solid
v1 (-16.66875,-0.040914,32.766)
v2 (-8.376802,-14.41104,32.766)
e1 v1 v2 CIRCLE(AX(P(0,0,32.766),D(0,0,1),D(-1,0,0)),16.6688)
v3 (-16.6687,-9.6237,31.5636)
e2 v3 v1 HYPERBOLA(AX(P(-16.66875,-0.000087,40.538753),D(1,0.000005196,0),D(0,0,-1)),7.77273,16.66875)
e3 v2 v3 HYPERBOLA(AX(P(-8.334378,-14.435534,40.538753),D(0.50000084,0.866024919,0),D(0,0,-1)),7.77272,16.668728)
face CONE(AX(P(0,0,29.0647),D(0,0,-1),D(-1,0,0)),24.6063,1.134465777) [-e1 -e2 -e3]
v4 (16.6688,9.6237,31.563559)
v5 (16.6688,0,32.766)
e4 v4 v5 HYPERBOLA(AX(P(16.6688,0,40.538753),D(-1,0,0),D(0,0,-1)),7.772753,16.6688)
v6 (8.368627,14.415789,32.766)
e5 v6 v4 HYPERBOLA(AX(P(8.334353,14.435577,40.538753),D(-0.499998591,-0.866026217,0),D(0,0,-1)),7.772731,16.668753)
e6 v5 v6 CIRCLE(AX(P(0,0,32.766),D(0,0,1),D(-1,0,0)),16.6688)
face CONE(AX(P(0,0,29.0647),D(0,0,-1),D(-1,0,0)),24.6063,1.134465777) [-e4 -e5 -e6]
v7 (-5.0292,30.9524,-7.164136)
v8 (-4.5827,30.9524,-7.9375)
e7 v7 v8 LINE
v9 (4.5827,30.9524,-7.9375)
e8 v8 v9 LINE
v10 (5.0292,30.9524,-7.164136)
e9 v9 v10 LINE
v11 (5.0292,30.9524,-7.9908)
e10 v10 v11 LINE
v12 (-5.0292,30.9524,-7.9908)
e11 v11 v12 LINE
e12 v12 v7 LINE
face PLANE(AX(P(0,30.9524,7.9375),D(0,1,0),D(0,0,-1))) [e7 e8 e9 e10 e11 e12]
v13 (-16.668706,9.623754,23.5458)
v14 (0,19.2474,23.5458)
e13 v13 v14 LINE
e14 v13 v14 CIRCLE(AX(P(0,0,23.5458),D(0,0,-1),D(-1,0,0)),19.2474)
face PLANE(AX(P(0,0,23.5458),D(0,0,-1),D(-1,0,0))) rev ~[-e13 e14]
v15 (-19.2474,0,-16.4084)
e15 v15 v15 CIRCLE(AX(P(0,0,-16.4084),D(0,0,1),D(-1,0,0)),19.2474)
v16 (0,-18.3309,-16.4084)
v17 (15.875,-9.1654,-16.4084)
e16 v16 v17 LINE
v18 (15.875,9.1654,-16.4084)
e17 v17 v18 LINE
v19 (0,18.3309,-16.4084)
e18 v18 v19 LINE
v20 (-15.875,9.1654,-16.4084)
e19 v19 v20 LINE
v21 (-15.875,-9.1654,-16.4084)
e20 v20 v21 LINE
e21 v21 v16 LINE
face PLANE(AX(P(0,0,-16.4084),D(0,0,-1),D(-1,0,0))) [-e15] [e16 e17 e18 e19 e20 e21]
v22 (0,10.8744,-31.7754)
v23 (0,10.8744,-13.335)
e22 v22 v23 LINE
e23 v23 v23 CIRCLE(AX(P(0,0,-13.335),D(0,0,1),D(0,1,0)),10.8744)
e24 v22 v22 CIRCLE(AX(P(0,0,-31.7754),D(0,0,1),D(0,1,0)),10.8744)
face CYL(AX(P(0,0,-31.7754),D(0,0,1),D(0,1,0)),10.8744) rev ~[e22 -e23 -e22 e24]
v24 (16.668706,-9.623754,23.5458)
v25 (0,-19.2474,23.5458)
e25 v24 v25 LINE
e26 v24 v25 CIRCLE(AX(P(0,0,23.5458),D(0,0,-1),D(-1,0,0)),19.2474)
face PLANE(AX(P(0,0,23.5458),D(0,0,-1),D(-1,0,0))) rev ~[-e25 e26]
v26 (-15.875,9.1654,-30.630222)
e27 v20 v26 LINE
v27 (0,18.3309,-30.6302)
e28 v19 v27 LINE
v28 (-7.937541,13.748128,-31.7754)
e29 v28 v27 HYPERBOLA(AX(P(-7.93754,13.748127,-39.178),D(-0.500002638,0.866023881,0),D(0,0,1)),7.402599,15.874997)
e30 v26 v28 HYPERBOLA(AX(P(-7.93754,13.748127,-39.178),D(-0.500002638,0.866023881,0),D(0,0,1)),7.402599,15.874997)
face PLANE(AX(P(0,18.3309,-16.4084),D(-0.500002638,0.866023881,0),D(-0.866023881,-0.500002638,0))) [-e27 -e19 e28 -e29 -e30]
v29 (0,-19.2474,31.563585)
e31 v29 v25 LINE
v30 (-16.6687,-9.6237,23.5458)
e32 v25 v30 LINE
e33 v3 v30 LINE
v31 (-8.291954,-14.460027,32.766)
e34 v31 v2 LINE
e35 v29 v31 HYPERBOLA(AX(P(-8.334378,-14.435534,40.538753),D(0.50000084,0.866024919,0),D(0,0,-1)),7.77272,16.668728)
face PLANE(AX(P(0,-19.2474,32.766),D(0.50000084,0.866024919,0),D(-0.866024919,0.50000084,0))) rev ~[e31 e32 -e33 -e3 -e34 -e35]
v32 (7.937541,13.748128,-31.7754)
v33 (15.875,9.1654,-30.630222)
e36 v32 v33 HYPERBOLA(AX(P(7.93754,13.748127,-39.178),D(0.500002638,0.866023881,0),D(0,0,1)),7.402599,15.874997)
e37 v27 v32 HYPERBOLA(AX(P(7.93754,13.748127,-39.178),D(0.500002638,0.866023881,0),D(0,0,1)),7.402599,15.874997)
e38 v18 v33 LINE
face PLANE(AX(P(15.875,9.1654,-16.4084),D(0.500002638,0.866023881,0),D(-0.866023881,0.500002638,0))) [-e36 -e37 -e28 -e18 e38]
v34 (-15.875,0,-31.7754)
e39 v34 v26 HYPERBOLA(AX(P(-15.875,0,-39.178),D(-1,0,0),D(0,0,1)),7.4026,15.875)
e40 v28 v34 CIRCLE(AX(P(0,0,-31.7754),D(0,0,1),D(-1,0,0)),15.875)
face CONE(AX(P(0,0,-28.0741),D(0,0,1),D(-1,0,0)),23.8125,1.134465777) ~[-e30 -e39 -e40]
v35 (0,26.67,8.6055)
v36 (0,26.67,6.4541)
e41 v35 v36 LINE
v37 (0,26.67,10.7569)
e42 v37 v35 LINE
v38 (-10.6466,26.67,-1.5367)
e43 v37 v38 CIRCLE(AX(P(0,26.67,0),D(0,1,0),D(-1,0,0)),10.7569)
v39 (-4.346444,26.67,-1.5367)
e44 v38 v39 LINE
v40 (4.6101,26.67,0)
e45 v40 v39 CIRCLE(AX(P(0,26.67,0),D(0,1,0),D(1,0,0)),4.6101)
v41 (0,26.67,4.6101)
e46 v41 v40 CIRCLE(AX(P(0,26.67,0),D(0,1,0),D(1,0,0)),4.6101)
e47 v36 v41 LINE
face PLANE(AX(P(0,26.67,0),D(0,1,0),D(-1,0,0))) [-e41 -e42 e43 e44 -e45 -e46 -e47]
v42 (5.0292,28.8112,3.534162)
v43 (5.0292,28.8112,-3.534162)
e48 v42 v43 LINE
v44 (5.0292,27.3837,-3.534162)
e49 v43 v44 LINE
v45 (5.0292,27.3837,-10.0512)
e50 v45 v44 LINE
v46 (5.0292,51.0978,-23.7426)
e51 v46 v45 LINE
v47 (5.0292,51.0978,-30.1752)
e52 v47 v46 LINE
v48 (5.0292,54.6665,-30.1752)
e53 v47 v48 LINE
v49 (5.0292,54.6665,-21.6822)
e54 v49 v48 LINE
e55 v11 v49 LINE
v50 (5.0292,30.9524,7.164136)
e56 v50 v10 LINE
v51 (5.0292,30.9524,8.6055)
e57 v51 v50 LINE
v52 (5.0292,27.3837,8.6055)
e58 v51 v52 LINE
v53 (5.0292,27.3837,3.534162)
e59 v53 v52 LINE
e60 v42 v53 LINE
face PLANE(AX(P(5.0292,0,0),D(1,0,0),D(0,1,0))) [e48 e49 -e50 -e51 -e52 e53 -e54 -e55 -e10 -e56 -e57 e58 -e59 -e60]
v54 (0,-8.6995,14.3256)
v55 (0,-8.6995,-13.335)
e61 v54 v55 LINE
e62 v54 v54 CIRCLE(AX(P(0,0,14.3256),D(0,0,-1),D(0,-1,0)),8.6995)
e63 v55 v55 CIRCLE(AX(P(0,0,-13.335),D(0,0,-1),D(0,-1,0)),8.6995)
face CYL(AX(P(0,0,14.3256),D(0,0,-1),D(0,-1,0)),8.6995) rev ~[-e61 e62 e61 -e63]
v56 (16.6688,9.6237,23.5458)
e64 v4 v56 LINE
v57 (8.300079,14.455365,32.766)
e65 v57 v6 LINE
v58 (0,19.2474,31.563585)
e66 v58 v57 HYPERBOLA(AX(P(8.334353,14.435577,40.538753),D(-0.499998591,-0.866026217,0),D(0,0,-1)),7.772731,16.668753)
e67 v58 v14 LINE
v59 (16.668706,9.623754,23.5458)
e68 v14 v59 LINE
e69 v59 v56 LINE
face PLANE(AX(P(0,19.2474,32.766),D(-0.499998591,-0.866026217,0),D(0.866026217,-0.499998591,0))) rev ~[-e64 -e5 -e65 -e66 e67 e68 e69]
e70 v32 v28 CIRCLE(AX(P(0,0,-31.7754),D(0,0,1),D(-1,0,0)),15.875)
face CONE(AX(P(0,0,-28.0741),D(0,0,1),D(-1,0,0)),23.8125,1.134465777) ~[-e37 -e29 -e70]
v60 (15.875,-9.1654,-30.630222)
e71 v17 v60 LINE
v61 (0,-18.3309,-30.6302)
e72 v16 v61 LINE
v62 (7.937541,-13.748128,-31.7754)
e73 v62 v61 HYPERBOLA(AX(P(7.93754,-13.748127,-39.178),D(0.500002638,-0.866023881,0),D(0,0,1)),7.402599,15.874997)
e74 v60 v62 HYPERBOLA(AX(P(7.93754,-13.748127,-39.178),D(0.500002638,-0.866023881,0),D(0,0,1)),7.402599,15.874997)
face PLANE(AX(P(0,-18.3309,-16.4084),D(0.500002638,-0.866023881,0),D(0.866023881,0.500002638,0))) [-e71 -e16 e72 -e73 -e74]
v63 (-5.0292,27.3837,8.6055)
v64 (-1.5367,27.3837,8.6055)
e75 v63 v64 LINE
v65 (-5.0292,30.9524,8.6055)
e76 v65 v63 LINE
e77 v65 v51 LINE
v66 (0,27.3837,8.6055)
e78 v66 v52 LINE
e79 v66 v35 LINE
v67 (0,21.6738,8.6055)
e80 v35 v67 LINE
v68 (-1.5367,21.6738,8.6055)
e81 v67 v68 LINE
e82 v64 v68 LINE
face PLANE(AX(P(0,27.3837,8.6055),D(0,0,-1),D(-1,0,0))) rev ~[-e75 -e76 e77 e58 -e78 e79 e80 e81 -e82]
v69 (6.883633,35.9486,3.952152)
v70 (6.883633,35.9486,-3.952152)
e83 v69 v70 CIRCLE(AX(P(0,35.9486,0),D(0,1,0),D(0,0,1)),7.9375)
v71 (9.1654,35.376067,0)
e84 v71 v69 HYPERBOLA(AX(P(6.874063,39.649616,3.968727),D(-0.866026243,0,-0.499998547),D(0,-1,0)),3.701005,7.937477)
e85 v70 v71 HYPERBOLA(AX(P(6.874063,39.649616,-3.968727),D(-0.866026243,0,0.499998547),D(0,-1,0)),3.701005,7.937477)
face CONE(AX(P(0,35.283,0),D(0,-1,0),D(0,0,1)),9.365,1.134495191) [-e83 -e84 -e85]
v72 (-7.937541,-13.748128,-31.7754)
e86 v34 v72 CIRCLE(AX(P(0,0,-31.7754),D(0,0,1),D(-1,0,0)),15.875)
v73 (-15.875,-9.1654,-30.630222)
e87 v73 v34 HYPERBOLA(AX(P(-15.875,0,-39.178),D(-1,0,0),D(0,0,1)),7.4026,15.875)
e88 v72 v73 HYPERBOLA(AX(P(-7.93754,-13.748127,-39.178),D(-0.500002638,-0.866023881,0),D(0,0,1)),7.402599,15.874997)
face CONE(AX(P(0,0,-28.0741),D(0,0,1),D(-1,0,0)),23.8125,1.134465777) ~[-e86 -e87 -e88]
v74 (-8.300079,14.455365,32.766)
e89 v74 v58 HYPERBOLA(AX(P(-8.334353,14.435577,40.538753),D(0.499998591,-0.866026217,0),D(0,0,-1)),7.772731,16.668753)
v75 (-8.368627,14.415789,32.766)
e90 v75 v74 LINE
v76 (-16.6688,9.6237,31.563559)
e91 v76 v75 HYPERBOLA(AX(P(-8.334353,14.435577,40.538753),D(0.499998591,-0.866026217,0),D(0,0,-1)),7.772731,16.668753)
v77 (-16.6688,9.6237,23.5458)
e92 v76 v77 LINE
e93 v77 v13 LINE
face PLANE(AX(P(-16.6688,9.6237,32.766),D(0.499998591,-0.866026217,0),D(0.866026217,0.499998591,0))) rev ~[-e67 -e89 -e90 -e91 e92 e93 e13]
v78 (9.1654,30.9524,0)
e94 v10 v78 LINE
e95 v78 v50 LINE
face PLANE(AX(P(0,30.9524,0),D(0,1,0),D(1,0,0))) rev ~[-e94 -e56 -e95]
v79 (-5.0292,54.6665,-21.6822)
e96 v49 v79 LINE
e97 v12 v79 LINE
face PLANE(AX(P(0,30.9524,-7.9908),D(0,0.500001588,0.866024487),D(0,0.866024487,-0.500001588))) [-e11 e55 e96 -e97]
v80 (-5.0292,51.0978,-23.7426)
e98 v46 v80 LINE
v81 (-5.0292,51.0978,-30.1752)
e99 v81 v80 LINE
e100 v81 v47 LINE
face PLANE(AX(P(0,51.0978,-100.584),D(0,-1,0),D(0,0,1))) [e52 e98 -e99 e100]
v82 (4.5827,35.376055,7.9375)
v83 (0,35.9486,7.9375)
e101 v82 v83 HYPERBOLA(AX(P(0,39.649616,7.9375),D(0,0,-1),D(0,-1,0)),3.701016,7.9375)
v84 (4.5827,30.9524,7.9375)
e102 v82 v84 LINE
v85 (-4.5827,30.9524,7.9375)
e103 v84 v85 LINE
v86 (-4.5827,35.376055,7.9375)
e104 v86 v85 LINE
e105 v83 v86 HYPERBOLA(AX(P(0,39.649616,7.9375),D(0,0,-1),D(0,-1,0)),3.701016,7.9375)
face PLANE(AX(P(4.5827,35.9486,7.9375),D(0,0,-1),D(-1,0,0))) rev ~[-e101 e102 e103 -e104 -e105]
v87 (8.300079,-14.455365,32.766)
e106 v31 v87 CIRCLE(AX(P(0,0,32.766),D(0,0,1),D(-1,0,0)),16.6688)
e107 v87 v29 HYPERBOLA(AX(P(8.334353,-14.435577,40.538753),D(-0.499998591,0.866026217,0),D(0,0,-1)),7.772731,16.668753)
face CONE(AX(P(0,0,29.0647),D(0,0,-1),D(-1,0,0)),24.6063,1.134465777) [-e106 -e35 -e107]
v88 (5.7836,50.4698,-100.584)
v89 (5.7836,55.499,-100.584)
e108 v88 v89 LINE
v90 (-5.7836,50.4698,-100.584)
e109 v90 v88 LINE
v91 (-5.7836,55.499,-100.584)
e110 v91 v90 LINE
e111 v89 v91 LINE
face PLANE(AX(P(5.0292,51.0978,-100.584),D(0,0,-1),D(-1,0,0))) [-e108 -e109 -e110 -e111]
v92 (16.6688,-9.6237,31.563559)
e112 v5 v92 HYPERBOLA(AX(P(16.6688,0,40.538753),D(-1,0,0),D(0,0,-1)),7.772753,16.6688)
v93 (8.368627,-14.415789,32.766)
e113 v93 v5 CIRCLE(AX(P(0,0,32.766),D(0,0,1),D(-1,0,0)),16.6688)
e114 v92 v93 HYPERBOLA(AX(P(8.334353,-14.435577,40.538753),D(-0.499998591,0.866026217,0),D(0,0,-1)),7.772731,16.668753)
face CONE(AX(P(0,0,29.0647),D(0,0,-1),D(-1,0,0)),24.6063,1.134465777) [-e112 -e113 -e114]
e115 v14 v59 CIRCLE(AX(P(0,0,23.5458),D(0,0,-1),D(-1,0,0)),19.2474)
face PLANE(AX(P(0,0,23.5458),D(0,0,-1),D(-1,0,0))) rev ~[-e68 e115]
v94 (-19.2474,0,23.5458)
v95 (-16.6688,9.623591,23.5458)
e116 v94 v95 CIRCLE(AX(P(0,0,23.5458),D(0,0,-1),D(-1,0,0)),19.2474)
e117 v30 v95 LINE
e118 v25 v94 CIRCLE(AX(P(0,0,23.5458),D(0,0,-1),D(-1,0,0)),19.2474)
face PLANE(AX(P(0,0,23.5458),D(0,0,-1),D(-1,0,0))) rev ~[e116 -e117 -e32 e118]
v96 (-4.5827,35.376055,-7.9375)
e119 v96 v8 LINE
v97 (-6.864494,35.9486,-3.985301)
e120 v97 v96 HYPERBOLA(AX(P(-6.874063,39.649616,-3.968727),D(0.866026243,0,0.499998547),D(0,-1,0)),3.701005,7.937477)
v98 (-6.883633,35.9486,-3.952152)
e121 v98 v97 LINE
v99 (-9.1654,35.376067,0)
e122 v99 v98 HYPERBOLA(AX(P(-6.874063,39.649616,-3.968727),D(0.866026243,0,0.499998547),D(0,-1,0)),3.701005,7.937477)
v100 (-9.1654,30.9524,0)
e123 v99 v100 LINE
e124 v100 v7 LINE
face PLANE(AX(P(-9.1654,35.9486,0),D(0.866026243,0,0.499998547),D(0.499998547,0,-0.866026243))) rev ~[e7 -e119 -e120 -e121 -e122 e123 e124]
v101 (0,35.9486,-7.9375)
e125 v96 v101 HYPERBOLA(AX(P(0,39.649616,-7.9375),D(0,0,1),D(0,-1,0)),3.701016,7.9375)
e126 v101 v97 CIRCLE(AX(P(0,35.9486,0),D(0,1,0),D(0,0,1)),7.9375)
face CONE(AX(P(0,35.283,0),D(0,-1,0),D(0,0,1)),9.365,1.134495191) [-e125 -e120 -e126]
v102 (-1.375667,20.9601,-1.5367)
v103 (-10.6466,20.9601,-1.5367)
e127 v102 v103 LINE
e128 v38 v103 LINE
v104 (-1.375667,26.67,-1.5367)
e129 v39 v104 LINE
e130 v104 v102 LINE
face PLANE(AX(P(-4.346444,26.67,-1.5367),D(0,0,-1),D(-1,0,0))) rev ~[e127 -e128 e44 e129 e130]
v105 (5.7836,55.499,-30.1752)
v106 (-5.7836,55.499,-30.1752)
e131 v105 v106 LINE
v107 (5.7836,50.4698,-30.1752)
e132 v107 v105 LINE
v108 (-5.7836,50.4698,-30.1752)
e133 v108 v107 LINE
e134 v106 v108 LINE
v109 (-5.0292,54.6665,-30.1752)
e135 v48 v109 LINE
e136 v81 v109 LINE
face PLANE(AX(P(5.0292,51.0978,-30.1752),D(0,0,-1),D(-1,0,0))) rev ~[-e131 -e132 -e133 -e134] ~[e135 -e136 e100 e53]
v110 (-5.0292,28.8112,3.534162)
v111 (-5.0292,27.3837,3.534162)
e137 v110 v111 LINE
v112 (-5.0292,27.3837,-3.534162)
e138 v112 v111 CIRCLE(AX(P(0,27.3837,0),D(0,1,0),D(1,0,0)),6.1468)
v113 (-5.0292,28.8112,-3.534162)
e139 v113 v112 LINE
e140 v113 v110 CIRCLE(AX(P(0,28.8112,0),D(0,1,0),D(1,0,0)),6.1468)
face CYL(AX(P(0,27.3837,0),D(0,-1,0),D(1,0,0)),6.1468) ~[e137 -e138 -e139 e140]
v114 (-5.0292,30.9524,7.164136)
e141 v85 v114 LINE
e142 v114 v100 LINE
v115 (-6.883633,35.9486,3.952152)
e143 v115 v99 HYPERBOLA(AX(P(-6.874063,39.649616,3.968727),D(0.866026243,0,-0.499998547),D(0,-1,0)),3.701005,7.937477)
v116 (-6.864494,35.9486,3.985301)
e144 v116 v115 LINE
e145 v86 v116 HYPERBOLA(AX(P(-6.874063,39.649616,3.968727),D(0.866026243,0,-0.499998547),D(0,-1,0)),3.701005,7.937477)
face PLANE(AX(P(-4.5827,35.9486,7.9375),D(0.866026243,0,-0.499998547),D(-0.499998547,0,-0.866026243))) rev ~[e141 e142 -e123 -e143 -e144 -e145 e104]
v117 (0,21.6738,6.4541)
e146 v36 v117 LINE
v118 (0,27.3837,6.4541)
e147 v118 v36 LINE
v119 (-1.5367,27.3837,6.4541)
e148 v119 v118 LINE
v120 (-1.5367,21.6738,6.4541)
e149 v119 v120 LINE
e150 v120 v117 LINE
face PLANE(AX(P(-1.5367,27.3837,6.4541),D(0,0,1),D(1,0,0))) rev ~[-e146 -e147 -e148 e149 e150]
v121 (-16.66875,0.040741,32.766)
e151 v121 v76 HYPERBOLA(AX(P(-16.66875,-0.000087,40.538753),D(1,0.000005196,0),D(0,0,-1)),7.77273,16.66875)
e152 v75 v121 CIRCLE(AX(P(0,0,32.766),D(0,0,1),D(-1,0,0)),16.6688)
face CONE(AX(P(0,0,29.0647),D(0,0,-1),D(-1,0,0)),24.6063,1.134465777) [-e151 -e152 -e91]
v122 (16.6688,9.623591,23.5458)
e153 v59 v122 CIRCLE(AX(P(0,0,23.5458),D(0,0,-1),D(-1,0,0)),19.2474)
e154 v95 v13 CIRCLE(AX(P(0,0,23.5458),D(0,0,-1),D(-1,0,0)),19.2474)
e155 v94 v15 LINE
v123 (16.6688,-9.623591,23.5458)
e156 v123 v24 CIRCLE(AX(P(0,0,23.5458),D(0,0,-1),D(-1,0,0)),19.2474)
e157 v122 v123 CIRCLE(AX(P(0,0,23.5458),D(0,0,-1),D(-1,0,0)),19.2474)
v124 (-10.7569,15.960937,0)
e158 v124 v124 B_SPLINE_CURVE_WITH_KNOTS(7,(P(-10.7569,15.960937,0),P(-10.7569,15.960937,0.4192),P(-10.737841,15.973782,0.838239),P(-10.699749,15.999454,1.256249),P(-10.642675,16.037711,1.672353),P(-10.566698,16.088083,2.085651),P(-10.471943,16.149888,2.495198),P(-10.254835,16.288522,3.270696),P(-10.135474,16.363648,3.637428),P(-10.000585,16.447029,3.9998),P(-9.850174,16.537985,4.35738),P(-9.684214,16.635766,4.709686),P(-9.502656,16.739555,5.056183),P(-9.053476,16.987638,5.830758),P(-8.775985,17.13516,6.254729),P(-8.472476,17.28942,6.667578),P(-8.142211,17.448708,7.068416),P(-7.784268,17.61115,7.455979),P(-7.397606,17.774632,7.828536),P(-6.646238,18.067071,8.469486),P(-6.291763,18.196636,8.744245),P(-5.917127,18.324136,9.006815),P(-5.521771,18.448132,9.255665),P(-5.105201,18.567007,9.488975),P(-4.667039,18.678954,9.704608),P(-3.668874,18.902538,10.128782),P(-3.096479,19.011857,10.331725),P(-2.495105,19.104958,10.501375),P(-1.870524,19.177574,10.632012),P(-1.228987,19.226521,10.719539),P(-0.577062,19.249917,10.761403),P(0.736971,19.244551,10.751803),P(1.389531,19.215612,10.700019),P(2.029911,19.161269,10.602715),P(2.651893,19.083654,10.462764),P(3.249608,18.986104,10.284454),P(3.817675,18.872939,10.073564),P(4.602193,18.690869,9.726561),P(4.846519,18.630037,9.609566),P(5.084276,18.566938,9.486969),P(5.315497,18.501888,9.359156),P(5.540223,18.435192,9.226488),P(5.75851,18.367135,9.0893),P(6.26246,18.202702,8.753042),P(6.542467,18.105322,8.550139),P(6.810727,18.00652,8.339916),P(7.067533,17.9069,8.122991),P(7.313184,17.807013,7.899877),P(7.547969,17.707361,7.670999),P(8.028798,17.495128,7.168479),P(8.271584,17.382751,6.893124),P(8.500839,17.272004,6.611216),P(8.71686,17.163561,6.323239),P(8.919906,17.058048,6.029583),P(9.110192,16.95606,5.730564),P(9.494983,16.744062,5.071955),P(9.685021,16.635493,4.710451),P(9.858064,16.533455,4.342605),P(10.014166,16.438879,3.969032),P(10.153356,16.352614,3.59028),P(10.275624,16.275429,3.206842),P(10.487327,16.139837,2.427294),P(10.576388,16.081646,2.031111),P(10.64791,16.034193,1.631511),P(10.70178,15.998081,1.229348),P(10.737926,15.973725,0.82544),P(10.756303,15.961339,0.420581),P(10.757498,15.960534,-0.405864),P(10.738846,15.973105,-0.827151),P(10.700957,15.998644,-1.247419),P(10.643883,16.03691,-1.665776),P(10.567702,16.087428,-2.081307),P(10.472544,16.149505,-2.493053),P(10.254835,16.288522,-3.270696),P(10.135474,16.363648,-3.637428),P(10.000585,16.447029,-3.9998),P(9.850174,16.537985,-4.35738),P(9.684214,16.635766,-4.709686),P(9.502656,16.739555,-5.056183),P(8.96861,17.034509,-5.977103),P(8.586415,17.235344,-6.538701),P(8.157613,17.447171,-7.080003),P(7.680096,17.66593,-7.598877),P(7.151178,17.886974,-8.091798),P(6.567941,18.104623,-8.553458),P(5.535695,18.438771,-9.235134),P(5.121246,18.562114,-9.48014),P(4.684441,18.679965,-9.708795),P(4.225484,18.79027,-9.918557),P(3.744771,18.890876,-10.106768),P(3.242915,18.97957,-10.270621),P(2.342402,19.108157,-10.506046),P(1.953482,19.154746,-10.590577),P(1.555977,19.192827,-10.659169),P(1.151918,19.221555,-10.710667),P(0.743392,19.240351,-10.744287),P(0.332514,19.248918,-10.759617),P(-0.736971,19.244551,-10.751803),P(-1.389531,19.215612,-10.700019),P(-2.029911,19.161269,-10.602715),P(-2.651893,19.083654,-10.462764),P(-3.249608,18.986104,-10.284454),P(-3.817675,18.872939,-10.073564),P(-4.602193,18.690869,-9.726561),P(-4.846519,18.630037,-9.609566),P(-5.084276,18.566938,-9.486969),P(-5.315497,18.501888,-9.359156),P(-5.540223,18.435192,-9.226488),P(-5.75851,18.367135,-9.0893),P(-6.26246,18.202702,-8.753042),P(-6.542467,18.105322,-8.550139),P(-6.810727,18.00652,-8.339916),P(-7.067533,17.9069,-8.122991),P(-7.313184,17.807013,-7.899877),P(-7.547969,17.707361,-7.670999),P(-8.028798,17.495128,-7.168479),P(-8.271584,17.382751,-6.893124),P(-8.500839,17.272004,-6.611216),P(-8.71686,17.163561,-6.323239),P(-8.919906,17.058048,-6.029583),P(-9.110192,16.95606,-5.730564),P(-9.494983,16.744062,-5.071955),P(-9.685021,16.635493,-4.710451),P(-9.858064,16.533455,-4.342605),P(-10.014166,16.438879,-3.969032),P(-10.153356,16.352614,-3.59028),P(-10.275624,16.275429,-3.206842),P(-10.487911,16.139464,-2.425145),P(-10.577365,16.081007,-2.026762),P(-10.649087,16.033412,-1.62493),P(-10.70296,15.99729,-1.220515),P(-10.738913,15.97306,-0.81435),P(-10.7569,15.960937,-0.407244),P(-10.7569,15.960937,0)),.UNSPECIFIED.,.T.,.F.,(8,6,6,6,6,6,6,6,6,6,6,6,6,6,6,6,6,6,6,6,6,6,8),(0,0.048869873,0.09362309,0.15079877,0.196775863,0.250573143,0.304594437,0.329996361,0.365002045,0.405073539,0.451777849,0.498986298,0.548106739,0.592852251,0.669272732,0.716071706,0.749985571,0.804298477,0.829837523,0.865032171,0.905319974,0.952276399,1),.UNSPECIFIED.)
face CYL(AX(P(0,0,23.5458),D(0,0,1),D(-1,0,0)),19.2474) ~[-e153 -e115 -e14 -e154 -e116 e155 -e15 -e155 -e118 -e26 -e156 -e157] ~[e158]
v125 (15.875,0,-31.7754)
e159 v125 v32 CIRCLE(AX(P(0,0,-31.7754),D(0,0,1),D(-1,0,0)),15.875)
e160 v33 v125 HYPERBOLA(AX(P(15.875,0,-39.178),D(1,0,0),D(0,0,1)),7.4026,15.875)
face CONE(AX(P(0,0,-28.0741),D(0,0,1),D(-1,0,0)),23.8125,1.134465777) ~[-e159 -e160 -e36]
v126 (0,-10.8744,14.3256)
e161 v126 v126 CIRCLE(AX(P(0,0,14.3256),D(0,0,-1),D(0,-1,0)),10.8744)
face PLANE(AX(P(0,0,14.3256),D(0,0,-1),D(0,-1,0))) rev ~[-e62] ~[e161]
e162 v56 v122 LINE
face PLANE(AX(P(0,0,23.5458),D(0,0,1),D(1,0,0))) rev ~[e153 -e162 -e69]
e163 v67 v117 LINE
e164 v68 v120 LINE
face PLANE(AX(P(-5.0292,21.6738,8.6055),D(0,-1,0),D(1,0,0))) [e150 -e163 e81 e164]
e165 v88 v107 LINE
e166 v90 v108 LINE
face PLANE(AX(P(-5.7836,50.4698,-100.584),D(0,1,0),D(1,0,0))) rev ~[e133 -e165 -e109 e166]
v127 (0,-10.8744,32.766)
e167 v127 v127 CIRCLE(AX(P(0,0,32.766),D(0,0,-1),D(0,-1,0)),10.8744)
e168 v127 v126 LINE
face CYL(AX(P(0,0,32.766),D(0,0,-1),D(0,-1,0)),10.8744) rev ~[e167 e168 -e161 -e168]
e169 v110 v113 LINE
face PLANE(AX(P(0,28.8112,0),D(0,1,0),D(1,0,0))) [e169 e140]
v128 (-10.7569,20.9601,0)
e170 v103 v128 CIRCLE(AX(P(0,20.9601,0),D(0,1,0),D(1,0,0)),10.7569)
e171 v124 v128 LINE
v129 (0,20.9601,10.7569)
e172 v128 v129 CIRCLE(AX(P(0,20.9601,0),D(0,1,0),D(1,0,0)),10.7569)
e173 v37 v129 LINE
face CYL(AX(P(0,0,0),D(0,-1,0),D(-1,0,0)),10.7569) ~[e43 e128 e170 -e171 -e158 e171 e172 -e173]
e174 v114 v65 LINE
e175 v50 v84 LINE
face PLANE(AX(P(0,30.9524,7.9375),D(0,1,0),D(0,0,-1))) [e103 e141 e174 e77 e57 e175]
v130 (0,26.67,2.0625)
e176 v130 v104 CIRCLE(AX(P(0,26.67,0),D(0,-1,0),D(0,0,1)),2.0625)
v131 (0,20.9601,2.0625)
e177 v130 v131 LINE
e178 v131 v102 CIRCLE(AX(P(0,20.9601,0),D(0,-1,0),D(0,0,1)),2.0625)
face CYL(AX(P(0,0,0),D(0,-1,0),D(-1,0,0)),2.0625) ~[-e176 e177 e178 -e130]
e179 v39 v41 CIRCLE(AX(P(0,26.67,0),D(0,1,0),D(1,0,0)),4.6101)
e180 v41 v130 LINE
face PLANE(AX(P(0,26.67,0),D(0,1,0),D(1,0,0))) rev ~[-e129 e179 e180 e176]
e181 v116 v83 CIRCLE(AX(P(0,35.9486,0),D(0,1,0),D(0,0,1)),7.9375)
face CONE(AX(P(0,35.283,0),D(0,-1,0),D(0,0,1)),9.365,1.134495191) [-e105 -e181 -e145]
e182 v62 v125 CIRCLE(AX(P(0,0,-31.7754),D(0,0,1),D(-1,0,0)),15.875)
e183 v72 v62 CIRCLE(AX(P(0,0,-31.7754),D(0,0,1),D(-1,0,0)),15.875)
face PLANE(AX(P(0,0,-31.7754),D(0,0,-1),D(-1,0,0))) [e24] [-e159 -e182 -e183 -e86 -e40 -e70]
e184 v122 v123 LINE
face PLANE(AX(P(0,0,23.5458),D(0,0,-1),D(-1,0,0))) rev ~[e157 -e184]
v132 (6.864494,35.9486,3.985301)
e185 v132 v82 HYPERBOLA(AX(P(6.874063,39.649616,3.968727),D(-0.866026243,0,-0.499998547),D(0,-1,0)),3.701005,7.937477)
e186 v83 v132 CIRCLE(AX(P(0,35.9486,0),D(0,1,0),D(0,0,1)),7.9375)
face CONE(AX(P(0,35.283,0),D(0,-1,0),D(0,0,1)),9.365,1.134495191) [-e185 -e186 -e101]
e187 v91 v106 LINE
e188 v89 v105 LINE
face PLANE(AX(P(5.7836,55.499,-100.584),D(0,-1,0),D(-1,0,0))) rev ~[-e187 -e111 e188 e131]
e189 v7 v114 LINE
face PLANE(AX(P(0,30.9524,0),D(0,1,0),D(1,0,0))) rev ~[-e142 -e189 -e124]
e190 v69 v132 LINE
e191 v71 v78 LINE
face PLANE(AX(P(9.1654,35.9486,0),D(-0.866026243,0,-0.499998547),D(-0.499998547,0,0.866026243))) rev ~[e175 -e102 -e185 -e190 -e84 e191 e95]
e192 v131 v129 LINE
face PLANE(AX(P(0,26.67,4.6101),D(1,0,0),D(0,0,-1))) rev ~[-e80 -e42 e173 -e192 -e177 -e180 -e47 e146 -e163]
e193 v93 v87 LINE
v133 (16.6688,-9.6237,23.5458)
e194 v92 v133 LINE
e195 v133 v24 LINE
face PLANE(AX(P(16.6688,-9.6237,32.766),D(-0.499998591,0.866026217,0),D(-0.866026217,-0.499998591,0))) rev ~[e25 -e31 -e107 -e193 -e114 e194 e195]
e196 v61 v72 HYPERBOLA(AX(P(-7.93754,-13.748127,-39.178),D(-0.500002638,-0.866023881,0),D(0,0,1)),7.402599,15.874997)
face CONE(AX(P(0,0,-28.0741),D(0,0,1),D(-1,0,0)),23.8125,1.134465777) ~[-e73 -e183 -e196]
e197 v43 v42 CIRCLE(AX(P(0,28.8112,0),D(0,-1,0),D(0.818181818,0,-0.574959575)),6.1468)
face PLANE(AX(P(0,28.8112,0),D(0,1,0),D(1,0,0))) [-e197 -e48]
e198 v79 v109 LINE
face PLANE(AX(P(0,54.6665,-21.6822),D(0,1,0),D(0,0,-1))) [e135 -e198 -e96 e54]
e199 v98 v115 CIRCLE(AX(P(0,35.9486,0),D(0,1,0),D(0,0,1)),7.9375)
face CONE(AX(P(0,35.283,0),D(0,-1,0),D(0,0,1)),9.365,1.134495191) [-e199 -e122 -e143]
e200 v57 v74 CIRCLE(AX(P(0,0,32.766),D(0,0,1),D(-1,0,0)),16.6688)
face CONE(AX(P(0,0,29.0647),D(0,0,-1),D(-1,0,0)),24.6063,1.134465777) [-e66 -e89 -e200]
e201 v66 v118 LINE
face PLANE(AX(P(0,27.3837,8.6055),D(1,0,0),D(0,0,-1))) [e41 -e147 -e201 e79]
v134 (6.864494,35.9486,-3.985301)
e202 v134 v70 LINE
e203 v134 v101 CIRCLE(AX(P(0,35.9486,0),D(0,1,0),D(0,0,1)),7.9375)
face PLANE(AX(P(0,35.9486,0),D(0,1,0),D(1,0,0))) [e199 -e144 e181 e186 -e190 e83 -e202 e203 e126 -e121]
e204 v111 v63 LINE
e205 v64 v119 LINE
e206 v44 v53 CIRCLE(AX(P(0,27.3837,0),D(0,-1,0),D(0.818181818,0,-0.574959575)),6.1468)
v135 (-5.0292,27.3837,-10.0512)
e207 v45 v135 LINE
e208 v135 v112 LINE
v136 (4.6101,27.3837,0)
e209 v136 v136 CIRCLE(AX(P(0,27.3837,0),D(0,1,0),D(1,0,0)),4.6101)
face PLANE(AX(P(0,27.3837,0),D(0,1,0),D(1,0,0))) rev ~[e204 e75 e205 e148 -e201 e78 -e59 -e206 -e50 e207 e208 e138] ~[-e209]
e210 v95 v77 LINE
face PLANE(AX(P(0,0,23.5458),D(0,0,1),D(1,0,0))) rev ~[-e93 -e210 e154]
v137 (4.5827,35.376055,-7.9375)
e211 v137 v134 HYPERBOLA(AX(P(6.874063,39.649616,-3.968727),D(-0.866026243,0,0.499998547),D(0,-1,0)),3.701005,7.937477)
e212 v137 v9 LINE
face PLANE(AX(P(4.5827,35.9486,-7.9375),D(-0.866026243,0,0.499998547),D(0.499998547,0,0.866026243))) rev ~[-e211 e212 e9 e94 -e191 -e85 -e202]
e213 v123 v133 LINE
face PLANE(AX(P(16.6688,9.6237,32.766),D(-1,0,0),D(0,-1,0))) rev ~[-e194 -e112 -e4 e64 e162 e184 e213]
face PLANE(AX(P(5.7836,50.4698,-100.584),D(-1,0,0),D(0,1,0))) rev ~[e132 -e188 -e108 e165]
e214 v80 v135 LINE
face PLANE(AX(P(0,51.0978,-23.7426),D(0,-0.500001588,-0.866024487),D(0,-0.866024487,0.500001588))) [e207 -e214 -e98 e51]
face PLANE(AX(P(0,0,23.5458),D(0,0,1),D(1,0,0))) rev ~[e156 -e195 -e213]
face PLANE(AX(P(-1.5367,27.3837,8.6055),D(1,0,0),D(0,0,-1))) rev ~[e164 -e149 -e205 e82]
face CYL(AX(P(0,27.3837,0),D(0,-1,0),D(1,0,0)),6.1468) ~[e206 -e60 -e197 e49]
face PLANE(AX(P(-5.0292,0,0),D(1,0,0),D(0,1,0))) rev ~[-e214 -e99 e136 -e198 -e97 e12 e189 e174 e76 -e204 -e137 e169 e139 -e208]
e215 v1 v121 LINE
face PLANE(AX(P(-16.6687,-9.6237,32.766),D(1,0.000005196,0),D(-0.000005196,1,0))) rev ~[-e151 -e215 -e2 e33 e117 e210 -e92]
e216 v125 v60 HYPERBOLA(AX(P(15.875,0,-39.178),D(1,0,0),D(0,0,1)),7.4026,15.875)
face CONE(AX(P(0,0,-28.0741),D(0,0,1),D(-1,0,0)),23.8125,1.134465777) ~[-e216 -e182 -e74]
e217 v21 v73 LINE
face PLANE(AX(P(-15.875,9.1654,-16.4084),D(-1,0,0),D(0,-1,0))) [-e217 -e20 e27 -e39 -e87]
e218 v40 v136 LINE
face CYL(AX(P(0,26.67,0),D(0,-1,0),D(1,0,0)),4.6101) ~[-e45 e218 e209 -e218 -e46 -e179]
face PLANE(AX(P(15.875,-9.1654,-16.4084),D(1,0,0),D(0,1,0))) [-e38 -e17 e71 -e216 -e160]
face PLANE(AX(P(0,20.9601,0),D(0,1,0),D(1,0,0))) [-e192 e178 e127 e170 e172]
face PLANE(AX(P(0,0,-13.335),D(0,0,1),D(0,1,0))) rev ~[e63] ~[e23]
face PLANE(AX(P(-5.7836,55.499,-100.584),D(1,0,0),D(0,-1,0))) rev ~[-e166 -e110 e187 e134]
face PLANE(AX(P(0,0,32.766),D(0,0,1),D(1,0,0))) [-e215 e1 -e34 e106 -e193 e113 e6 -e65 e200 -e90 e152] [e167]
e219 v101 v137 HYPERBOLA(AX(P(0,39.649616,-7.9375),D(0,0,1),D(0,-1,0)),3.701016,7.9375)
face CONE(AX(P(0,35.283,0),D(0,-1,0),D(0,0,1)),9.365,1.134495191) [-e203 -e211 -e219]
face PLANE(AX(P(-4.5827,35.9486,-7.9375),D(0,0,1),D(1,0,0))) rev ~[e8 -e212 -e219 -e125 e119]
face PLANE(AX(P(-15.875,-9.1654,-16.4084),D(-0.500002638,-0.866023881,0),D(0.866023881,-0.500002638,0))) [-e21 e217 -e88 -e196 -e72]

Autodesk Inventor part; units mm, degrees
sketch "Sketch3" plane through (0, 0, 0) normal (0, 1, 0) x (-1, 0, 0)
  circle A0 centre (0, 0) radius 10.7569
  dimension "d16" = 21.5138
extrude "Extrusion3" add sketch "Sketch3" along normal blind 26.67
sketch "Sketch4" plane through (0, 26.67, 0) normal (0, 1, 0) x (1, 0, 0)
  circle A0 centre (0, 0) radius 10.7569 projected
  circle A1 centre (0, 0) radius 4.6101
  dimension "d19" = 9.2202
extrude "Extrusion4" add sketch "Sketch4" along normal blind 0.7137 contours A1
sketch "Sketch5" plane through (0, 27.3837, 0) normal (0, 1, 0) x (1, 0, 0)
  circle A0 centre (0, 0) radius 4.6101 projected
  circle A1 centre (0, 0) radius 6.1468
  dimension "d22" = 12.2936
extrude "Extrusion5" add sketch "Sketch5" along normal blind 1.4275 contours A0 | A1
sketch "Sketch6" plane through (0, 28.8112, 0) normal (0, 1, 0) x (1, 0, 0)
  circle A0 centre (0, 0) radius 6.1468 projected
  circle A1 centre (0, 0) radius 2.4587
  dimension "d25" = 4.9174
extrude "Extrusion6" add sketch "Sketch6" along normal mid plane 14.2748 contours A1
sketch "Sketch7" plane through (0, 35.9486, 0) normal (0, 1, 0) x (1, 0, 0)
  circle A0 centre (0, 0) radius 2.4587 projected
  line L0 (9.1654, 0) -> (4.5827, -7.9375)
  line L1 (4.5827, -7.9375) -> (-4.5827, -7.9375)
  line L2 (-4.5827, -7.9375) -> (-9.1654, 0)
  line L3 (-9.1654, 0) -> (-4.5827, 7.9375)
  line L4 (-4.5827, 7.9375) -> (4.5827, 7.9375)
  line L5 (4.5827, 7.9375) -> (9.1654, 0)
  dimension "d28" = 15.875
extrude "Extrusion7" add sketch "Sketch7" against normal blind 4.9962 contours A0 | L0 L1 L2 L3 L4 L5
sketch "Sketch8" plane through (0, 0, 0) normal (1, 0, 0) x (0, 1, 0)
  line L0 (30.9524, 7.9375) -> (30.9524, 0) projected
  line L1 (30.9524, 8.6055) -> (30.9524, -7.9908)
  line L2 (30.9524, -7.9908) -> (54.6665, -21.6822)
  line L3 (54.6665, -21.6822) -> (54.6665, -100.584)
  line L4 (51.0978, -100.584) -> (51.0978, -23.7426)
  line L5 (51.0978, -23.7426) -> (27.3837, -10.0512)
  line L6 (27.3837, -10.0512) -> (27.3837, 8.6055)
  line L7 (54.6665, -100.584) -> (51.0978, -100.584)
  line L8 (30.9524, 8.6055) -> (27.3837, 8.6055)
  line L9 (35.9486, 0) -> (30.9524, 0) projected
  line L10 (0, 10.7569) -> (0, -10.7569) projected
  dimension "d31" = 3.5687
  dimension "d32" = 8.6055
  dimension "d33" = 120
  dimension "d34" = 100.584
  dimension "d36" = 7.9908
  dimension "d54" = 54.6665
extrude "Extrusion8" add sketch "Sketch8" along normal mid plane 10.0584
sketch "Sketch9" plane through (0, 26.67, 0) normal (0, 1, 0) x (1, 0, 0)
  circle A0 centre (0, 0) radius 10.7569 projected
  line L0 (0, -10.7569) -> (0, 1.5367)
  line L1 (0, 1.5367) -> (-10.6466, 1.5367)
  circle A1 centre (0, 0) radius 4.6101 projected
  dimension "d73" = 12.2936
extrude "Extrusion9" cut sketch "Sketch9" against normal blind 5.7099 contours L1 A1 L0 A0 | L1 L0 A1 picked at (-1.2328, -8.5574) picked at (-0.3635, -2.5175)
ref_plane "Work Plane2" through (0, 0, -24.5872) normal (0, 0, 1) x (1, 0, 0)
sketch "Sketch15" plane through (-5.0292, 27.3837, 8.6055) normal (0, -1, 0) x (1, 0, 0)
  line L0 (10.0584, 0) -> (0, 0) projected
  line L1 (5.0292, 0) -> (3.4925, 0)
  line L2 (3.4925, 0) -> (3.4925, -2.1514)
  line L3 (3.4925, -2.1514) -> (5.0292, -2.1514)
  line L4 (5.0292, 0) -> (5.0292, -2.1514)
  line L5 (5.0292, -131.4577) -> (5.0292, 24.4196) projected
  dimension "d63" = 2.1514
  dimension "d74" = 1.5367
extrude "Extrusion15" add sketch "Sketch15" along normal blind 5.7099
sketch "Sketch16" plane through (0, 0, 0) normal (0, 1, 0) x (-1, 0, 0)
  circle A0 centre (0, 0) radius 2.0625 projected
extrude "Extrusion16" add sketch "Sketch16" along normal blind 28.5496
sketch "Sketch20" plane through (0, 0, 0) normal (1, 0, 0) x (0, 1, 0)
  line L0 (35.9486, 7.9375) -> (30.9524, 7.9375) projected
  line L1 (35.9486, 7.9375) -> (35.9486, 9.365)
  line L2 (35.9486, 9.365) -> (35.283, 9.365)
  line L3 (35.283, 9.365) -> (35.9486, 7.9375)
  line L4 (-7.1897, 0) -> (43.1383, 0) projected
  dimension "d94" = 1.4275
  dimension "d95" = 25
ref_plane "Work Plane5" through (4.5827, 33.4505, 7.9375) normal (0, 1, 0) x (0.5, 0, -0.866)
revolve "Revolution3" cut sketch "Sketch20" angle 360 about axis through (0, -10, 0) along (0, 1, 0)
ref_plane "Work Plane6" through (0, 0, 32.766) normal (0, 0, 1) x (1, 0, 0)
ref_plane "Work Plane9" through (0, 0, 32.766) normal (0, 0, 1) x (1, 0, 0)
sketch "Sketch29" plane through (0, 0, 32.766) normal (0, 0, 1) x (1, 0, 0)
  line L0 (0, 19.2474) -> (16.6688, 9.6237)
  line L1 (16.6688, 9.6237) -> (16.6688, -9.6237)
  line L2 (16.6688, -9.6237) -> (0, -19.2474)
  line L3 (0, -19.2474) -> (-16.6687, -9.6237)
  line L4 (-16.6687, -9.6237) -> (-16.6688, 9.6237)
  line L5 (-16.6688, 9.6237) -> (0, 19.2474)
  point P0 (0, 0)
  point P1 (0, 0)
  point P2 (16.6687, 0)
  dimension "d140" = 33.3375
extrude "Extrusion23" add sketch "Sketch29" against normal blind 9.2202
sketch "Sketch30" plane through (0, 0, 23.5458) normal (0, 0, -1) x (-1, 0, 0)
  line L0 (16.6688, 9.6237) -> (16.6687, -9.6237) projected
  line L1 (0, 19.2474) -> (0, -19.2474)
  circle A0 centre (0, 0) radius 19.2474
extrude "Extrusion24" add sketch "Sketch30" along normal blind 39.9542
sketch "Sketch31" plane through (0, 0, -16.4084) normal (0, 0, -1) x (-1, 0, 0)
  circle A0 centre (0, 0) radius 19.2474 projected
  line L0 (0, 18.3309) -> (15.875, 9.1654)
  line L1 (15.875, 9.1654) -> (15.875, -9.1654)
  line L2 (15.875, -9.1654) -> (0, -18.3309)
  line L3 (0, -18.3309) -> (-15.875, -9.1654)
  line L4 (-15.875, -9.1654) -> (-15.875, 9.1654)
  line L5 (-15.875, 9.1654) -> (0, 18.3309)
  point P0 (-15.875, 0)
  dimension "d145" = 31.75
extrude "Extrusion25" add sketch "Sketch31" along normal blind 15.367 contours L0 L1 L2 L3 L4 L5
hole "Hole4" at (0, 0, 32.766) direction (0, 0, -1) diameter 21.7488 depth 18.4404
hole "Hole5" at (0, 0, -31.7754) direction (0, 0, 1) diameter 21.7488 depth 18.4404
hole "Hole6" at (0, 0, 14.3256) direction (0, 0, -1) diameter 17.399 end through all
sketch "Sketch32" plane through (0, 0, 0) normal (0, 1, 0) x (-1, 0, 0)
  line L0 (16.6688, 32.766) -> (0, 32.766) projected
  line L1 (16.6688, 32.766) -> (24.6063, 32.766)
  line L2 (24.6063, 32.766) -> (24.6063, 29.0647)
  line L3 (24.6063, 29.0647) -> (16.6688, 32.766)
  line L4 (0, -6.5532) -> (0, 39.3192) projected
  dimension "d157" = 25
  dimension "d158" = 7.9375
revolve "Revolution6" cut sketch "Sketch32" angle 360 about axis through (0, 0, -10) along (0, 0, 1)
sketch "Sketch33" plane through (0, 0, 0) normal (0, 1, 0) x (-1, 0, 0)
  line L0 (0, -31.7754) -> (15.875, -31.7754) projected
  line L1 (15.875, -31.7754) -> (0, -31.7754) projected
  line L2 (0, -16.4084) -> (0, -31.7754) projected
  line L3 (15.875, -16.4084) -> (15.875, -31.7754) projected
  line L4 (15.875, -31.7754) -> (23.8125, -31.7754)
  line L5 (23.8125, -31.7754) -> (23.8125, -28.0741)
  line L6 (23.8125, -28.0741) -> (15.875, -31.7754)
  line L7 (0, -38.1305) -> (0, 6.3551) projected
  line L8 (15.875, -16.4084) -> (0, -16.4084) projected
  point P0 (0, -17.3736)
  dimension "d160" = 25
  dimension "d161" = 7.9375
revolve "Revolution7" cut sketch "Sketch33" angle 360 about axis through (0, 0, -10) along (0, 0, 1) contours L6 L5 L4
sketch "Sketch34" plane through (5.0292, 51.0978, -100.584) normal (0, 0, -1) x (-1, 0, 0)
  line L0 (0, 3.5687) -> (0, 0) projected
  line L1 (0, 3.5687) -> (10.0584, 3.5687) projected
  line L2 (-0.7544, 4.4012) -> (10.8128, 4.4012)
  line L3 (10.8128, 4.4012) -> (10.8128, -0.628)
  line L4 (10.8128, -0.628) -> (-0.7544, -0.628)
  line L5 (-0.7544, -0.628) -> (-0.7544, 4.4012)
  point P0 (0, 1.7843)
  point P1 (-0.7544, 1.8866)
  point P2 (5.0292, 3.5687)
  point P3 (5.0292, 4.4012)
  point P4 (5.0292, -51.0978)
  dimension "d163" = 11.5672
  dimension "d164" = 5.0292
  dimension "d165" = 55.499
extrude "Extrusion26" add sketch "Sketch34" against normal blind 70.4088
thread "Thread4" size "3/4" designation "3/4 - 14 NPT" standard "NPT for PVC Pipe and Fitting" length 12.2936
thread "Thread5" size "3/4" designation "3/4 - 14 NPT" standard "NPT for PVC Pipe and Fitting" length 12.2936
equation "\"d16\" = 0.35 * M"
equation "\"d17\" = 0.8 * C_HEX"
equation "\"d19\" = 0.15 * M"
equation "\"d20\" = 0.01 * N1"
equation "\"d22\" = 0.2 * M"
equation "\"d23\" = 0.02 * N1"
equation "\"d25\" = 0.08 * M"
equation "\"d26\" = 0.2 * N1"
equation "\"d28\" = 0.5 * B_HEX"
equation "\"d29\" = 0.07 * N1"
equation "\"d31\" = 0.05 * N1"
equation "\"d32\" = 0.14 * M"
equation "\"d34\" = H1"
equation "\"d36\" = 0.13 * M"
equation "\"d54\" = -0.4925 * B_HEX + 0.985 * N1"
equation "\"d37\" = 0.1 * H1"
equation "\"d73\" = 0.2 * M"
equation "\"d39\" = 0.08 * N1"
equation "\"d63\" = 0.035 * M"
equation "\"d74\" = 0.025 * M"
equation "\"d64\" = 0.08 * N1"
equation "\"d75\" = 0.4 * N1"
equation "\"d94\" = 0.02 * N1"
equation "\"d140\" = C_HEX"
equation "\"d141\" = 0.15 * M"
equation "\"d143\" = 0.65 * M"
equation "\"d145\" = B_HEX"
equation "\"d146\" = 0.25 * M"
equation "\"d150\" = 1.25 * D"
equation "\"d155\" = 0.3 * M"
equation "\"d178\" = d150"
equation "\"d183\" = 0.3 * M"
equation "\"d187\" = D"
equation "\"d192\" = 0.3 * M"
equation "\"d158\" = 0.25 * B_HEX"
equation "\"d161\" = 0.25 * B_HEX"
equation "\"d163\" = 0.115 * H1"
equation "\"d164\" = 0.05 * H1"
equation "\"d165\" = N1 - 0.5 * B_HEX"
equation "\"d166\" = 0.7 * H1"
equation "\"d170\" = 0.2 * M"
equation "\"d172\" = 0.2 * M"
equation "\"D\" = 17.399"
equation "\"N1\" = 71.374"
equation "\"M\" = 61.468"
equation "\"H1\" = 100.584"
equation "\"L\" = 133.35"
equation "\"B_HEX\" = 31.75"
equation "\"C_HEX\" = 33.3375"
equation "\"d41\" = -0.4 * M"
equation "\"d104\" = L - H1"
equation "\"d139\" = L - H1"
equation "\"P_TH\" = 6.35"
equation "\"Parker_No\" = 1.2345"
properties part number "Parker Female-Female Pipe Ends XV500P XV500P-12" material "Brass, Soft Yellow"
